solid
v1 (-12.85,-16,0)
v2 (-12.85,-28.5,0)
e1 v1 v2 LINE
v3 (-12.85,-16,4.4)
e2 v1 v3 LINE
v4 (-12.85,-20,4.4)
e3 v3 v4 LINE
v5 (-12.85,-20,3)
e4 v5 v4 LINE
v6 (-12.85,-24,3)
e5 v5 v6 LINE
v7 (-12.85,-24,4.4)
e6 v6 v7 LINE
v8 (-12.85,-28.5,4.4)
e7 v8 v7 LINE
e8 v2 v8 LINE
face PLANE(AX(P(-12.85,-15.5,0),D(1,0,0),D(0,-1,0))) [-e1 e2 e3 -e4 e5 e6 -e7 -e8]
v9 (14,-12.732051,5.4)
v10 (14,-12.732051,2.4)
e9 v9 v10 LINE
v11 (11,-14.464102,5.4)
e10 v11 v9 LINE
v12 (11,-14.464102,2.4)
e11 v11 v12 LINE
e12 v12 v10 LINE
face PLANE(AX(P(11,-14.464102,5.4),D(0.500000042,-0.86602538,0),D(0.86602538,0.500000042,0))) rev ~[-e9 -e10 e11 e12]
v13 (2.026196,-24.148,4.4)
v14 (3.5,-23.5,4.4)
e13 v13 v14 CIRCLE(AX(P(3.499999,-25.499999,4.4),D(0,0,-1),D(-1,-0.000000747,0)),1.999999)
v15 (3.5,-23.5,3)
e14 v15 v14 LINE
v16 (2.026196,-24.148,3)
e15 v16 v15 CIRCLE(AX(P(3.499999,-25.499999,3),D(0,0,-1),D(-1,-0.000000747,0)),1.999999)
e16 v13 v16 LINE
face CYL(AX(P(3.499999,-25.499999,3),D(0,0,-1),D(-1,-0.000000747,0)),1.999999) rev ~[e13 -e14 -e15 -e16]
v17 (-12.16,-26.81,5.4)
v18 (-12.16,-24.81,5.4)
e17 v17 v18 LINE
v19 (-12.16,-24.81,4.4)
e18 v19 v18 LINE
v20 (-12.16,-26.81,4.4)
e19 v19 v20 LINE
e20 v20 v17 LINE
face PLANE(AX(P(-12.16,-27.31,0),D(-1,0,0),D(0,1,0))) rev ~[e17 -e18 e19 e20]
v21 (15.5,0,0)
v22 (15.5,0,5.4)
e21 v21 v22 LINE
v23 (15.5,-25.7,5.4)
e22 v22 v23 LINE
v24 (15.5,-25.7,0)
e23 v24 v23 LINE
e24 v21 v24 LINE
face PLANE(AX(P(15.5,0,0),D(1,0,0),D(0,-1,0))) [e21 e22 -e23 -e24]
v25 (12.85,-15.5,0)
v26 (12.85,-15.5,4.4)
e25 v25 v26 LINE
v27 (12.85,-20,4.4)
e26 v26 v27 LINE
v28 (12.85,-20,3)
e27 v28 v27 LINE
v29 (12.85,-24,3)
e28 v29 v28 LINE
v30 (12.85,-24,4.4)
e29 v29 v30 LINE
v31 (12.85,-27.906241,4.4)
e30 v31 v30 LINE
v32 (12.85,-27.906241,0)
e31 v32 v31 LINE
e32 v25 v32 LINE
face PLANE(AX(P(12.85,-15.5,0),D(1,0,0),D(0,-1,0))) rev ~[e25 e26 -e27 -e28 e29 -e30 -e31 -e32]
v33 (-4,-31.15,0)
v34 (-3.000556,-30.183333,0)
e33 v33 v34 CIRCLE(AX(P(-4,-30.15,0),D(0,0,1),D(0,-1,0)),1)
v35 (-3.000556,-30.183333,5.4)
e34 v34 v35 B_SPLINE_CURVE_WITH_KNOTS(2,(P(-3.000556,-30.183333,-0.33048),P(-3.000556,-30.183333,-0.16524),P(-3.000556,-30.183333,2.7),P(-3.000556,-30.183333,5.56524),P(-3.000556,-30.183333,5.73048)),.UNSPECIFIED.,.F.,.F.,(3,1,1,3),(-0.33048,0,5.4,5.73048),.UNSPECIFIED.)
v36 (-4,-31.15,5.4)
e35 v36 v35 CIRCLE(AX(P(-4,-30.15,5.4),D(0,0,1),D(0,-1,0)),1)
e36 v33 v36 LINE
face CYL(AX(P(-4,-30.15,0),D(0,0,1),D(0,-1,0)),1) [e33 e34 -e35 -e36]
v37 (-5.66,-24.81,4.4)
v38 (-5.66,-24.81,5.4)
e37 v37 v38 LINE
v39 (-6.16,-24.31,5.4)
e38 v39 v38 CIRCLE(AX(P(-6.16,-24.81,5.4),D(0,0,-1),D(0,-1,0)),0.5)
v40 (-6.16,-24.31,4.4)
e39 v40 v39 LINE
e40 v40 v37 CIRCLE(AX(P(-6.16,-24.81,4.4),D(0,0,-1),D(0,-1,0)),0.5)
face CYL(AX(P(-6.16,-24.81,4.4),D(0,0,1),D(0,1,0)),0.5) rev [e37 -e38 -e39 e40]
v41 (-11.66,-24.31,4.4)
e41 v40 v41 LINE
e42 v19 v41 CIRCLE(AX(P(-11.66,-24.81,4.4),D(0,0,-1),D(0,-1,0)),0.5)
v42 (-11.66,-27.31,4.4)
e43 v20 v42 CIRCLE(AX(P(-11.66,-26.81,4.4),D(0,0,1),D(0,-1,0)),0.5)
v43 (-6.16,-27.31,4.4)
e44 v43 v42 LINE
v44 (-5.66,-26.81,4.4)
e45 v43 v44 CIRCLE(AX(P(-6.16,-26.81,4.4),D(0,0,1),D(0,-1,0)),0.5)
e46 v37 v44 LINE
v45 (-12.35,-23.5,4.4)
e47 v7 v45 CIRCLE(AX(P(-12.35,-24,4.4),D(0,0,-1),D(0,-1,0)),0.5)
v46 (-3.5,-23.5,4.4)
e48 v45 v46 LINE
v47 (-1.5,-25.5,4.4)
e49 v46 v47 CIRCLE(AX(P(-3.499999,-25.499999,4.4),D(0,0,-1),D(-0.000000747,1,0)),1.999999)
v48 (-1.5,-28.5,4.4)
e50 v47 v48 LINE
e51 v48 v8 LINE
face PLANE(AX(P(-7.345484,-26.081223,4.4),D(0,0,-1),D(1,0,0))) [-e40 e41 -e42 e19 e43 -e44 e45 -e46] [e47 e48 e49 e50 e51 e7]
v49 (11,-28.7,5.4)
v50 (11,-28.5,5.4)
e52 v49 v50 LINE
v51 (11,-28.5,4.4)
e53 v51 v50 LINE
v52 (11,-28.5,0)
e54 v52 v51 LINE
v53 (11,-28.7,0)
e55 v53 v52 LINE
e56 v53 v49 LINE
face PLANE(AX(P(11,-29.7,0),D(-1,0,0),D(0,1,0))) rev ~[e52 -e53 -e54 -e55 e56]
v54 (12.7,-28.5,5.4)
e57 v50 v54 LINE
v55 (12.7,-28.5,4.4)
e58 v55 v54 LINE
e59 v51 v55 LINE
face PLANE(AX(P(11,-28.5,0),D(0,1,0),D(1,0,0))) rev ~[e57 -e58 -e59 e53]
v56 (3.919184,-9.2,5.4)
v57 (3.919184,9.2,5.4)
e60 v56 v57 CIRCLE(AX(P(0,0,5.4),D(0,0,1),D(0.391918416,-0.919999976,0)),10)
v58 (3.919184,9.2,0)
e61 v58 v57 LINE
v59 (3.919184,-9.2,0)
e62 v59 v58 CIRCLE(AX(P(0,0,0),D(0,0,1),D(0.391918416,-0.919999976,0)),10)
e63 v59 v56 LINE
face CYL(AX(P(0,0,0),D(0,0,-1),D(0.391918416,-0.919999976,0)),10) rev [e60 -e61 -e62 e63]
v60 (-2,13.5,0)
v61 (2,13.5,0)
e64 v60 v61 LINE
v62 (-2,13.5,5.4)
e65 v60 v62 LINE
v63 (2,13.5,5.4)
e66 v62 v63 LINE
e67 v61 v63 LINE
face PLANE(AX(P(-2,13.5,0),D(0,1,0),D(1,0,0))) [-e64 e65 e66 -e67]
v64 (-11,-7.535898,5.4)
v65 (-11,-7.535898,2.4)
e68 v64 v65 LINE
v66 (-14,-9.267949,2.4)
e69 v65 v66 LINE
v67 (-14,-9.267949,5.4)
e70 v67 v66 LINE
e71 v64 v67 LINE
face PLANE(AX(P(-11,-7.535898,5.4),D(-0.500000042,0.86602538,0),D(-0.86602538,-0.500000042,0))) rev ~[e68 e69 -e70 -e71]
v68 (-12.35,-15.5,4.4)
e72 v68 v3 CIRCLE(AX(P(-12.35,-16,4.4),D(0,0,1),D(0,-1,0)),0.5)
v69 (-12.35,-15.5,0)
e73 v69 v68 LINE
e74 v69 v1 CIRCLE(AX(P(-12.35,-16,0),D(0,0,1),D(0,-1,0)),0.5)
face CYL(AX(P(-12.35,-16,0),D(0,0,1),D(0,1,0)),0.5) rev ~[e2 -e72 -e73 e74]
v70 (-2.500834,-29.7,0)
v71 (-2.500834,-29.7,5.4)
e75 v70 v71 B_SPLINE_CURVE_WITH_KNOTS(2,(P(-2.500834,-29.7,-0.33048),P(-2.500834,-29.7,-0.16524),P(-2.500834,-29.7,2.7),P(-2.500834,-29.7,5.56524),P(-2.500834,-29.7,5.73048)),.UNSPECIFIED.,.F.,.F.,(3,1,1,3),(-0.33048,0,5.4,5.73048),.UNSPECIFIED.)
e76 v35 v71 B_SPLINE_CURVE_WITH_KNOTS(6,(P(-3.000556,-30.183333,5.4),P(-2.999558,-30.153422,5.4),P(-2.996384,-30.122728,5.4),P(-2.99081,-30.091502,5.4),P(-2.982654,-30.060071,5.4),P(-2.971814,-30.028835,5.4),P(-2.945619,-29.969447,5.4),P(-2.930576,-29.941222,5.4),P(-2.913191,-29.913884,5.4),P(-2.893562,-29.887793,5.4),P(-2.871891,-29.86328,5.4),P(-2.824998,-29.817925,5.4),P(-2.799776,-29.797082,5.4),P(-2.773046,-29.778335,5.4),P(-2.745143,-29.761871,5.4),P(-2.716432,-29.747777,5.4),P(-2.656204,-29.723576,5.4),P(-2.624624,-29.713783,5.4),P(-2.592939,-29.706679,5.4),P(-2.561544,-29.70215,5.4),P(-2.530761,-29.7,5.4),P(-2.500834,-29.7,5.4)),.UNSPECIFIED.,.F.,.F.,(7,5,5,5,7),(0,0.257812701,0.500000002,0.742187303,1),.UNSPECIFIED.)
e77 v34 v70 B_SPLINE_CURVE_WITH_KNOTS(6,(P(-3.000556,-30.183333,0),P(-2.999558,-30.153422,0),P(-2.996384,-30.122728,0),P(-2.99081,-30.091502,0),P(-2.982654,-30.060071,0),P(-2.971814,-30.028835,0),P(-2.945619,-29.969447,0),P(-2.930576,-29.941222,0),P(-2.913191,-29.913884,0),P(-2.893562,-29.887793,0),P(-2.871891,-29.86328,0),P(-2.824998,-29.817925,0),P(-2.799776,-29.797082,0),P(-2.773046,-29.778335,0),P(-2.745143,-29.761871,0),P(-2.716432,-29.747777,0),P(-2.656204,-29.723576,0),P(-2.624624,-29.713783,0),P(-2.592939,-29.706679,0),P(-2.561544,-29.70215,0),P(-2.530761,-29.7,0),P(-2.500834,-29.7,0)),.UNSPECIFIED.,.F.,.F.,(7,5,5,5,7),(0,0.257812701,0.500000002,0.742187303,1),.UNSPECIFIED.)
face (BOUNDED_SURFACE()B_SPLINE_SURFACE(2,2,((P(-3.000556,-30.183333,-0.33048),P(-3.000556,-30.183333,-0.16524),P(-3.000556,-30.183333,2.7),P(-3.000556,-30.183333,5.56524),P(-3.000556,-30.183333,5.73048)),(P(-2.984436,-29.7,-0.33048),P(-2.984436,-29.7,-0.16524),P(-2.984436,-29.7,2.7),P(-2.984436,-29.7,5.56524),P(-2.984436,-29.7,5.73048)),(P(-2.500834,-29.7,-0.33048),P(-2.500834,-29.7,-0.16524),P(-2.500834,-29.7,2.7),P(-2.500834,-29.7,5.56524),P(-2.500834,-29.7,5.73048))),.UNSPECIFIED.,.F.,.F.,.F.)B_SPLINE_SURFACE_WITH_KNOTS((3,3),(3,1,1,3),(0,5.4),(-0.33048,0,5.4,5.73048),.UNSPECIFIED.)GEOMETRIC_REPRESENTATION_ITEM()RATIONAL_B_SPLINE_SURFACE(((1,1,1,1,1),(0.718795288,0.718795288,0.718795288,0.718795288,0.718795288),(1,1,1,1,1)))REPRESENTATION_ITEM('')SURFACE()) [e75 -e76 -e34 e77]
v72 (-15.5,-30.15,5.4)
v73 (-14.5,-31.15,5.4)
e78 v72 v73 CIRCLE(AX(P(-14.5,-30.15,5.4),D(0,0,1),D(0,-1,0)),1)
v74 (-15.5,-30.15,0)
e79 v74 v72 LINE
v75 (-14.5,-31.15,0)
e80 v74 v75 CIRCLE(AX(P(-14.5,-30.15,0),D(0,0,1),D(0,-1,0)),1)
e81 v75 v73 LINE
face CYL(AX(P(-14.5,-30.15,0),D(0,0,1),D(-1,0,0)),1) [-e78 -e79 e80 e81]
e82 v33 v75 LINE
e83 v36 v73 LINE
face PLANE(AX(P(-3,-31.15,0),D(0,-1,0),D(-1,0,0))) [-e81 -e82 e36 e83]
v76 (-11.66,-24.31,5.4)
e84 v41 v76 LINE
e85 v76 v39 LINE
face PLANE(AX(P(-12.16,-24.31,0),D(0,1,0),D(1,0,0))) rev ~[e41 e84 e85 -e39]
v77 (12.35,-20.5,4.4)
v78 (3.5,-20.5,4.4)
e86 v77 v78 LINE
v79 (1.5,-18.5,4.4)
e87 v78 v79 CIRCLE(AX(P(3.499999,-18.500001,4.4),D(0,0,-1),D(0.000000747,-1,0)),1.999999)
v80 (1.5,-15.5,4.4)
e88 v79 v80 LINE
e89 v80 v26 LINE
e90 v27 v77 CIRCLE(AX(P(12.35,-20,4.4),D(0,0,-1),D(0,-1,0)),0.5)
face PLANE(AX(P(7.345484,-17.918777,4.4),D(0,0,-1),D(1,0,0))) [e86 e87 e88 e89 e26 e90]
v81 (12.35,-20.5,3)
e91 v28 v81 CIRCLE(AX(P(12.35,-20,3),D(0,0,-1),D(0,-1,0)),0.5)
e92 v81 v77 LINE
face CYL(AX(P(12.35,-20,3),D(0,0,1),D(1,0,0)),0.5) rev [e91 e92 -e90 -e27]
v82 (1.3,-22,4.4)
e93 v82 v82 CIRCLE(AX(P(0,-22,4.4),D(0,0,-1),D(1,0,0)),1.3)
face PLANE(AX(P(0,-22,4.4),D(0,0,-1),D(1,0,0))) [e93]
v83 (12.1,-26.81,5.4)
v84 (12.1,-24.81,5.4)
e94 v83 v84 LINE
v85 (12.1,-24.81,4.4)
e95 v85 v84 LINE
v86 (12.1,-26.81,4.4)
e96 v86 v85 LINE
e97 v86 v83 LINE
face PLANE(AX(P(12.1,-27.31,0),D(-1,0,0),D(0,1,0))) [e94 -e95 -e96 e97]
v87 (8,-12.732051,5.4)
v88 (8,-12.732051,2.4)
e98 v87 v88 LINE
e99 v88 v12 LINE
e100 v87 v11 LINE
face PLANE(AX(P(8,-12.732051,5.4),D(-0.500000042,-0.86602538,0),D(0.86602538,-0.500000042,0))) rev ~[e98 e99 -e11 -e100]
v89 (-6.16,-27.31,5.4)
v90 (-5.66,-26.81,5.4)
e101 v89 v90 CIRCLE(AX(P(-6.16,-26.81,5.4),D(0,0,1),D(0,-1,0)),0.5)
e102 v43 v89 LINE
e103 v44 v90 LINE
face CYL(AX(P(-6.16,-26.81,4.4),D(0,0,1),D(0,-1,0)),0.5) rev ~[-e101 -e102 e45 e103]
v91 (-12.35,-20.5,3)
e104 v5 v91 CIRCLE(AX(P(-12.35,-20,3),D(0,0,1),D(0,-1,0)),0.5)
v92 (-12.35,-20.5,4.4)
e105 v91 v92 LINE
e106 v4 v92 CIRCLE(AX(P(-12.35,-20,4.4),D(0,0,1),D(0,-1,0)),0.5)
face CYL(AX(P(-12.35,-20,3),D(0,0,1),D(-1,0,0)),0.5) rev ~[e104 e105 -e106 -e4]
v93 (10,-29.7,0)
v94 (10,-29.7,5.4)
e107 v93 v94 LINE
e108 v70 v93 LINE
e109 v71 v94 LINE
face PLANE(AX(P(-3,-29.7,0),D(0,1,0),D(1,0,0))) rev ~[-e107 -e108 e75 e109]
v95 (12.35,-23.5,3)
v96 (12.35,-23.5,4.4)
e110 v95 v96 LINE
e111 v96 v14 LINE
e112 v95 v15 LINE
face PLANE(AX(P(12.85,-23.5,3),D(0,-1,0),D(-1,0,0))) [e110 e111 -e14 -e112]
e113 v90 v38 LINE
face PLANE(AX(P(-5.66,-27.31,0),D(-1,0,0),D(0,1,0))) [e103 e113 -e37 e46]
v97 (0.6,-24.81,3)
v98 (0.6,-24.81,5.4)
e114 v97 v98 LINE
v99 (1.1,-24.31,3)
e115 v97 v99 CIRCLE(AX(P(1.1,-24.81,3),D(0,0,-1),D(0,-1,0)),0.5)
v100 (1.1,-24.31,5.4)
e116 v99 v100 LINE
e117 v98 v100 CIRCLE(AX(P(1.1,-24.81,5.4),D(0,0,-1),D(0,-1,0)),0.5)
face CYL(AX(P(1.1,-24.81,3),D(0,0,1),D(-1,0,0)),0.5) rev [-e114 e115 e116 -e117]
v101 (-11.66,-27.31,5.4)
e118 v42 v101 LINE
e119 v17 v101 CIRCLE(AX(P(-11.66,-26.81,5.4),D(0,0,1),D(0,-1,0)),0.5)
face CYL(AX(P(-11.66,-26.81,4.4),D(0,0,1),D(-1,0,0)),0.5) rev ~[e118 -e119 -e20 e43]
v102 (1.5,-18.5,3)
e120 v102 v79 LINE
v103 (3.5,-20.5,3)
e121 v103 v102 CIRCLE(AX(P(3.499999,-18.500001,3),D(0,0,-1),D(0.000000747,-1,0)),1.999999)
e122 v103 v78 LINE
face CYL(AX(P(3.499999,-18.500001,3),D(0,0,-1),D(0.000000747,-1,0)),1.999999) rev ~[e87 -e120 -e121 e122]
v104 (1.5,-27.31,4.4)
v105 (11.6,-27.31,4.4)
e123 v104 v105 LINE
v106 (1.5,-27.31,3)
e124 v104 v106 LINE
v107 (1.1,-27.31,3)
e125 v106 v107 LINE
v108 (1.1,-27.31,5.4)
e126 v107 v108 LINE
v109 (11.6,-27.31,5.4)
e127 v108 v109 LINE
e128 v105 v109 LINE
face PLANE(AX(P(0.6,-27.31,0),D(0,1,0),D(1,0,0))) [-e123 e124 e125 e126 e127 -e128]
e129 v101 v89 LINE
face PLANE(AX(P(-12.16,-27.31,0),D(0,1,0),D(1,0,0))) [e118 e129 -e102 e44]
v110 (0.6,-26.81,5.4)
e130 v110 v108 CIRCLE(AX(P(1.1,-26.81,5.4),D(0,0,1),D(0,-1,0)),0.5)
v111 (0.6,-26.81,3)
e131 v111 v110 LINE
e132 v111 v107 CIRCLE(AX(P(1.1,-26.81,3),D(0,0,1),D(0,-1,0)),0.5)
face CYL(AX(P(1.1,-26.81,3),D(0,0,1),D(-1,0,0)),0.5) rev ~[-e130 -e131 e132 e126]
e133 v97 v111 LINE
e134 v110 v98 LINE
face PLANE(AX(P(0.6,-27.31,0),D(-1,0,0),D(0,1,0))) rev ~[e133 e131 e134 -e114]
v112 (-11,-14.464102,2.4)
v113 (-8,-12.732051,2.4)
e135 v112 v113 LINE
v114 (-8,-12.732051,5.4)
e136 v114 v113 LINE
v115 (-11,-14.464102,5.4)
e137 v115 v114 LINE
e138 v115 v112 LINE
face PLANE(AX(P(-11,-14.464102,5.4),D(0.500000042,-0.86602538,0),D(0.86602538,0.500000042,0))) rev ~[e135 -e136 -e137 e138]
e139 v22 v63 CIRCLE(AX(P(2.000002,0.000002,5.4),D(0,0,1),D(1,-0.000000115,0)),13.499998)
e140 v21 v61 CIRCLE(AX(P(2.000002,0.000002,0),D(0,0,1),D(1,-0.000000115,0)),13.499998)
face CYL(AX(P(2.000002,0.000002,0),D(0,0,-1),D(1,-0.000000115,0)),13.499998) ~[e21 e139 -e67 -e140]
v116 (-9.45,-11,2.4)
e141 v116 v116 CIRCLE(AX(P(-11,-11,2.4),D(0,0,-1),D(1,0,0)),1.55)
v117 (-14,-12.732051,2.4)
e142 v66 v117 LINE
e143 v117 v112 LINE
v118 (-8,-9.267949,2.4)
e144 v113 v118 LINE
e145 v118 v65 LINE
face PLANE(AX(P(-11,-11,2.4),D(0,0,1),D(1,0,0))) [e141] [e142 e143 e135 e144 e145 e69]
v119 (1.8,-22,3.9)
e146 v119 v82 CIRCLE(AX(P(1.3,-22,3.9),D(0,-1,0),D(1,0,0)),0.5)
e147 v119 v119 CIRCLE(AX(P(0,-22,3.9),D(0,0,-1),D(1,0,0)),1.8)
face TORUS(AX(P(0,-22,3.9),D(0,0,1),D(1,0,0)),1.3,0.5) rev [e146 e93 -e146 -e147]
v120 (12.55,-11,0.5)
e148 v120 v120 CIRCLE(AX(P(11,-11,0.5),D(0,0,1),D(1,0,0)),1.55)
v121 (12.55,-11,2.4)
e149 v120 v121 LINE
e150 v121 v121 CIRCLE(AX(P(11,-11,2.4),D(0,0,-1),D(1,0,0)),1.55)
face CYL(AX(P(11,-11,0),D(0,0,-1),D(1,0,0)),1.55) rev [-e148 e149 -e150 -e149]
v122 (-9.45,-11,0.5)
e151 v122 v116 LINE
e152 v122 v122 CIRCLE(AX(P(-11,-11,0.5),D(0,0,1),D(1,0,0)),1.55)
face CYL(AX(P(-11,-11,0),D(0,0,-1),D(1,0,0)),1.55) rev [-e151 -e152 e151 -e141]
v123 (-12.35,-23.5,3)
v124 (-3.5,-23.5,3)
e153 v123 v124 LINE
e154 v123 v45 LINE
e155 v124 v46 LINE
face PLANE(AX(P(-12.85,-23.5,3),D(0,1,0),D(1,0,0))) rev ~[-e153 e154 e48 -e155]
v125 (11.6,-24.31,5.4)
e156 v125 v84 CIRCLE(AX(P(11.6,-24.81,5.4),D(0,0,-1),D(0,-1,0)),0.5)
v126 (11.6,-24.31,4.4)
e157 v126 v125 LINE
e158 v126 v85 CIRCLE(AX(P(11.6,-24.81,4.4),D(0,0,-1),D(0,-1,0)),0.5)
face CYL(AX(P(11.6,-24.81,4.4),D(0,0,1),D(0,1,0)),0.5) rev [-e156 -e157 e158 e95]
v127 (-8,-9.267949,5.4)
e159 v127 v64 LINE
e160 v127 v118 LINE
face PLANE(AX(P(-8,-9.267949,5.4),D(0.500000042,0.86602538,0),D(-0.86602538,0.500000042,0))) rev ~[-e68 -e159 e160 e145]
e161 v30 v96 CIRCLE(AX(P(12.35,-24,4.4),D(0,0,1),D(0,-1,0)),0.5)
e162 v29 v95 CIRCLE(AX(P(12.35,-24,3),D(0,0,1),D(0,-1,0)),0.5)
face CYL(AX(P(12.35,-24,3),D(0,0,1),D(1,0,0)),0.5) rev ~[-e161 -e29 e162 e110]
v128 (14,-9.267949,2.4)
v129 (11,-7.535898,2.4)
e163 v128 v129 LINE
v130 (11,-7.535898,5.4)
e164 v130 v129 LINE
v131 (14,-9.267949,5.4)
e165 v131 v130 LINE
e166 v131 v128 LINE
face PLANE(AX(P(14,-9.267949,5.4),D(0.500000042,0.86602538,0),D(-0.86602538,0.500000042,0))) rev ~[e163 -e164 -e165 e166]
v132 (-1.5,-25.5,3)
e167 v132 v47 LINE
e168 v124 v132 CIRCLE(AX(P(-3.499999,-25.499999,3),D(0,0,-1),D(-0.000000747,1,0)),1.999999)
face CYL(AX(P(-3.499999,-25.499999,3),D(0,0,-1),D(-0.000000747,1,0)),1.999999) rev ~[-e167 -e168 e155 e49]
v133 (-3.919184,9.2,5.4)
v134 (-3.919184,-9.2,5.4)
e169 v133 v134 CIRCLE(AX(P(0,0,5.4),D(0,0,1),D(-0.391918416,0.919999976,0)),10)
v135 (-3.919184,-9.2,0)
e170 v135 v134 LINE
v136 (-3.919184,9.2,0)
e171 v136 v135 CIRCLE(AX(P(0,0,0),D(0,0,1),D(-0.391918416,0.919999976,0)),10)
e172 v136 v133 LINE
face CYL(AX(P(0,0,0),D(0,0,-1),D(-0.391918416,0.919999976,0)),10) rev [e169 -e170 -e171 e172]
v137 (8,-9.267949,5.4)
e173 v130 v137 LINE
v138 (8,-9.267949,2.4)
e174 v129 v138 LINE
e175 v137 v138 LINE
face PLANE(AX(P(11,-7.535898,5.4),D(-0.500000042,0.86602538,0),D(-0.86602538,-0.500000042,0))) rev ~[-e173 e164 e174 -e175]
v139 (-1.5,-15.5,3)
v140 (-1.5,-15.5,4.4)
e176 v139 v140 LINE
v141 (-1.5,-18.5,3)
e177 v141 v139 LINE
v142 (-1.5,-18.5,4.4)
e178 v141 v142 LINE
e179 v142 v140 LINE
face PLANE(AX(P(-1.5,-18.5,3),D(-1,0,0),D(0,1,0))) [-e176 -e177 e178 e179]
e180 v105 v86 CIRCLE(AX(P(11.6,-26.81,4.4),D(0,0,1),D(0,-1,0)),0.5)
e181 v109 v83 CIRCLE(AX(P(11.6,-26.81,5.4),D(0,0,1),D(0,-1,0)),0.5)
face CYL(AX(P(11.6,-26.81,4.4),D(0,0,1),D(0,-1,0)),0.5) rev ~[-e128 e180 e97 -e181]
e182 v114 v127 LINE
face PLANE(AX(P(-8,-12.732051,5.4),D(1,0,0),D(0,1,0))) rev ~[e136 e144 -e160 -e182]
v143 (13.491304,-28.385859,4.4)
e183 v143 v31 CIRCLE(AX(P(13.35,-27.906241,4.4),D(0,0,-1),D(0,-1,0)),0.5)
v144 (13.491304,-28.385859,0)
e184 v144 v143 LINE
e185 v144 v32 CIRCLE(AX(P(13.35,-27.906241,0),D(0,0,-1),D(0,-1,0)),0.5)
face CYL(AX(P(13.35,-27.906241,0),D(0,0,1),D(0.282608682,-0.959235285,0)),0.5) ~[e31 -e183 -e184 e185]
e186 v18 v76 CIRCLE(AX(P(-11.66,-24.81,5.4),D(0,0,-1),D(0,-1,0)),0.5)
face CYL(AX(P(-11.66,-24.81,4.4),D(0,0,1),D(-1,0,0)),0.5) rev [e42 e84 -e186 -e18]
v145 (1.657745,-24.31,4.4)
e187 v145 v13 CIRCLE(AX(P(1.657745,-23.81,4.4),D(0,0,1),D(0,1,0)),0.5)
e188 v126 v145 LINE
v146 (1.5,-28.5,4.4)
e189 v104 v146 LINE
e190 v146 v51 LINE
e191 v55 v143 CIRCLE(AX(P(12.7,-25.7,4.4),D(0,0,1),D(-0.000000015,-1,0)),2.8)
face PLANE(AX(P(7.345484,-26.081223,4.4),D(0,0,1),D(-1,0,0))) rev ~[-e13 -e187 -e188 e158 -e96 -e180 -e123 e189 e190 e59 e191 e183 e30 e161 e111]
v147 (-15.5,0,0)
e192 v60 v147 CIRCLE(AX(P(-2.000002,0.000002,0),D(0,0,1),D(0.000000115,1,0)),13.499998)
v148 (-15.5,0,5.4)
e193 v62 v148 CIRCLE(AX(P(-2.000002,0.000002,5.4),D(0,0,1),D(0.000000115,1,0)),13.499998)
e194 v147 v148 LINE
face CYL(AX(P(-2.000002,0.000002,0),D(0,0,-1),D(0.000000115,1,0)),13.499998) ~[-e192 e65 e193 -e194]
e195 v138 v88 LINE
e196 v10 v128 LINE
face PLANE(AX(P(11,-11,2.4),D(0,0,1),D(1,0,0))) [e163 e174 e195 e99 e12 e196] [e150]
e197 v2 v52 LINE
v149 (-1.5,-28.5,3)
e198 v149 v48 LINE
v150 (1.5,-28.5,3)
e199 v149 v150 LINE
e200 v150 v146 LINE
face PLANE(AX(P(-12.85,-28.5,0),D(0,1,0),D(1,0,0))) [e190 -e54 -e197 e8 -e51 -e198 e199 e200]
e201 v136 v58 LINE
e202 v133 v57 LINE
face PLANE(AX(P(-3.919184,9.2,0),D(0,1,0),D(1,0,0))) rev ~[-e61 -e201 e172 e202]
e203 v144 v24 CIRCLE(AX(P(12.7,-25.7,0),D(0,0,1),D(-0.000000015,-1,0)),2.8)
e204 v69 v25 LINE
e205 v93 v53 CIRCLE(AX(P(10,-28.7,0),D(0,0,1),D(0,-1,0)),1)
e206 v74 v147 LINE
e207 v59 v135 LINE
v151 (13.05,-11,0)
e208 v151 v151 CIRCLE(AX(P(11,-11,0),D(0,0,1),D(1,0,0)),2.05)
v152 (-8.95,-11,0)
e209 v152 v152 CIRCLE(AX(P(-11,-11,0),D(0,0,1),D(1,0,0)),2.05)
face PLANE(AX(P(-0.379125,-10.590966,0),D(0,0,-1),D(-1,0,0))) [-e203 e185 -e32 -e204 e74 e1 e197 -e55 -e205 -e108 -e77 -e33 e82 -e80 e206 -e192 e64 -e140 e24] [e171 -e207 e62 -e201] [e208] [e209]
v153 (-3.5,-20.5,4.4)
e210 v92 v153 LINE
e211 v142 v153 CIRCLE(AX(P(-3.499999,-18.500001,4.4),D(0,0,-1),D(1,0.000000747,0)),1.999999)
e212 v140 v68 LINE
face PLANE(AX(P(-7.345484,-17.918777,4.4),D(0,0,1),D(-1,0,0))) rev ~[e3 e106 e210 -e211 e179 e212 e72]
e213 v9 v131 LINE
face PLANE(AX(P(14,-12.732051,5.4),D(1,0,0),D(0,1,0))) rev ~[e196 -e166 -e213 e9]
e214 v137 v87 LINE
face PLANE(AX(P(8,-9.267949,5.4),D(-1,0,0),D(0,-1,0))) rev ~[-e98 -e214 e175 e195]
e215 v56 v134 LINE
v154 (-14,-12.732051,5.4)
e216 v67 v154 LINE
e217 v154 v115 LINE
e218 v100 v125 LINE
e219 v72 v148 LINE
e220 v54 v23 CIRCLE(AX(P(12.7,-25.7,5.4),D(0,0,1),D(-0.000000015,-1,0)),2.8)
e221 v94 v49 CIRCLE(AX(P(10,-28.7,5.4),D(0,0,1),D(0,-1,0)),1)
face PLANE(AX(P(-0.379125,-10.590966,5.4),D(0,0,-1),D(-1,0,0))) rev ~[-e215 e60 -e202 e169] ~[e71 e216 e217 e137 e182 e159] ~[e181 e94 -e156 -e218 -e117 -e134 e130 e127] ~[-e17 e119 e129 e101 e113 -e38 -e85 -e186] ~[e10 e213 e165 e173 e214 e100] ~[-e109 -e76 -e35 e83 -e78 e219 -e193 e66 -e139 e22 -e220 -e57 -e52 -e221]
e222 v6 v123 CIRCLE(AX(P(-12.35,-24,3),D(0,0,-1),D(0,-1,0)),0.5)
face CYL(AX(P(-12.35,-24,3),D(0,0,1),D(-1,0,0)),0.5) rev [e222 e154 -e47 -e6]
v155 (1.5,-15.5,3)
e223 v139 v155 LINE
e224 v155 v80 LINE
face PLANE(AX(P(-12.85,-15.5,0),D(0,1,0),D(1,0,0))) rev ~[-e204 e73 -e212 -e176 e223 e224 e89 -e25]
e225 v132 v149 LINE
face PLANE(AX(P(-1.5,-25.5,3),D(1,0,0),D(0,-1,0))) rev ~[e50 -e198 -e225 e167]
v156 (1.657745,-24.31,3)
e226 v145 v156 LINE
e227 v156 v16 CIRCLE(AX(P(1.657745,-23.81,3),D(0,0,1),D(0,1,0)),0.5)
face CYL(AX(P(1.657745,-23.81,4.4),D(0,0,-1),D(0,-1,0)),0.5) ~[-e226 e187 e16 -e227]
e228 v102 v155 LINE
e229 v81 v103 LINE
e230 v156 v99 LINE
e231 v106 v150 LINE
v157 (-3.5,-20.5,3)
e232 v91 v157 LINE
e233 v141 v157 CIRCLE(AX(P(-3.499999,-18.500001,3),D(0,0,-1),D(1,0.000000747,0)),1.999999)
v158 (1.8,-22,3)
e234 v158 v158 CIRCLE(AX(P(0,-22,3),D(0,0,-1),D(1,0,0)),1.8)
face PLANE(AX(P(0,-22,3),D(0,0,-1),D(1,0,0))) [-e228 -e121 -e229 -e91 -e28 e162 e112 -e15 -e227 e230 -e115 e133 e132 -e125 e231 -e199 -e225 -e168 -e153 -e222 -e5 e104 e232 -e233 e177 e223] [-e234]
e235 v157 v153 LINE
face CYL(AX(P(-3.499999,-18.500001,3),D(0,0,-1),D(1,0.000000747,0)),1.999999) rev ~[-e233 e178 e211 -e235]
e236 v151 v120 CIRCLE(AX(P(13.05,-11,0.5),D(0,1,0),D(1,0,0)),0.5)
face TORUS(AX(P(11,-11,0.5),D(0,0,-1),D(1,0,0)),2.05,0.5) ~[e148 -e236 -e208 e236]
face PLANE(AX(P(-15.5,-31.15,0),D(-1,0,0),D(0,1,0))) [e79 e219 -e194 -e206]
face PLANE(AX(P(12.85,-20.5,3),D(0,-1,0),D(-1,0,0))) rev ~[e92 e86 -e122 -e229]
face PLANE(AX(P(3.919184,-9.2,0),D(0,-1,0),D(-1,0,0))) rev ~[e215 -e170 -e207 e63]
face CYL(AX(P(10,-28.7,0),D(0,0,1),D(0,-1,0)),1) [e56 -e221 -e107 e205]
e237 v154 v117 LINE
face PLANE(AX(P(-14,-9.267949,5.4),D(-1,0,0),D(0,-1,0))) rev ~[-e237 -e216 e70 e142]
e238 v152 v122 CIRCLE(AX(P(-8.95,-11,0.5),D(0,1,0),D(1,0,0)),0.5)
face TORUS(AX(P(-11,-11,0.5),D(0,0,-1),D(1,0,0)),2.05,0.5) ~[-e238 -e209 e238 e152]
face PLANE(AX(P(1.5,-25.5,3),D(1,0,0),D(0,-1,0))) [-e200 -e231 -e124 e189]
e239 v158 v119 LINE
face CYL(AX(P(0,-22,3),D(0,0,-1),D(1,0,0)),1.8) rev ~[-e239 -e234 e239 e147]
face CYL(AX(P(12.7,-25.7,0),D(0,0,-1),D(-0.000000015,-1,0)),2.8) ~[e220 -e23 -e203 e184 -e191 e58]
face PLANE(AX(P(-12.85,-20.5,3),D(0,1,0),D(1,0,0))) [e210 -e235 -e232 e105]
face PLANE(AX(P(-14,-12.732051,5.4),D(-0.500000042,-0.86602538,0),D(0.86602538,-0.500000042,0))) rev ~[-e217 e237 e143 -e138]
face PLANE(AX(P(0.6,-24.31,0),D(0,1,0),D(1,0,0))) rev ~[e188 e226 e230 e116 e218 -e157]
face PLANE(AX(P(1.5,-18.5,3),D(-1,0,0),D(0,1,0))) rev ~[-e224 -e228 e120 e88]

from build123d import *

# Parameters (mm, degrees)
SKETCH_R        = 1.55
SKETCH_W        = 6.5
SKETCH_H        = 3
SKETCH_W_2      = 11.5
PAD_DEPTH       = 5.4
SKETCH005_W     = 25.7
SKETCH005_H     = 13
POCKET_DEPTH    = 3
SKETCH006_R     = 1.8
POCKET001_DEPTH = 1.4
POCKET002_DEPTH = 3
FILLET_R        = 1
FILLET001_R     = 0.5


with BuildPart() as part:
    # Sketch → Pad (new body)
    with BuildSketch(Plane.XY):
        with BuildLine():
            Line((-2, 13.5), (2, 13.5))
            ThreePointArc((15.5, 0), (11.545942, 9.545942), (2, 13.5))
            Line((15.5, 0), (15.5, -25.7))
            ThreePointArc((12.7, -28.5), (14.679899, -27.679899), (15.5, -25.7))
            Line((11, -28.5), (12.7, -28.5))
            Line((11, -29.7), (11, -28.5))
            Line((-3, -29.7), (11, -29.7))
            Line((-3, -31.15), (-3, -29.7))
            Line((-3, -31.15), (-15.5, -31.15))
            Line((-15.5, -31.15), (-15.5, 0))
            ThreePointArc((-2, 13.5), (-11.545942, 9.545942), (-15.5, 0))
        make_face()
        with Locations((-11, -11)):
            Circle(SKETCH_R, mode=Mode.SUBTRACT)
        with Locations((11, -11)):
            Circle(SKETCH_R, mode=Mode.SUBTRACT)
        with BuildLine():
            ThreePointArc((-3.919184, 9.2), (-10, 0), (-3.919184, -9.2))
            Line((3.919184, -9.2), (-3.919184, -9.2))
            ThreePointArc((3.919184, -9.2), (10, 0), (3.919184, 9.2))
            Line((-3.919184, 9.2), (3.919184, 9.2))
        make_face(mode=Mode.SUBTRACT)
        with Locations((-8.91, -25.81)):
            Rectangle(SKETCH_W, SKETCH_H, mode=Mode.SUBTRACT)
        with Locations((6.35, -25.81)):
            Rectangle(SKETCH_W_2, SKETCH_H, mode=Mode.SUBTRACT)
    extrude(amount=PAD_DEPTH)

    # Sketch005 (on Face26 of Pad) → Pocket (cut)
    with BuildSketch(Plane(origin=(0, 0, 0), x_dir=(1, 0, 0), z_dir=(0, 0, -1))):
        with Locations((0, 22)):
            Rectangle(SKETCH005_W, SKETCH005_H)
    extrude(amount=-POCKET_DEPTH, mode=Mode.SUBTRACT)

    # Sketch006 (on Face32 of Pocket) → Pocket001 (cut)
    with BuildSketch(Plane(origin=(0, 0, 3), x_dir=(1, 0, 0), z_dir=(0, 0, -1))):
        with Locations((0, 22)):
            Circle(SKETCH006_R)
        with BuildLine():
            Line((-12.85, 20.5), (-3.5, 20.5))
            ThreePointArc((-1.5, 18.5), (-2.085786, 19.914214), (-3.5, 20.5))
            Line((-1.5, 18.5), (-1.5, 15.5))
            Line((-1.5, 15.5), (-12.85, 15.5))
            Line((-12.85, 15.5), (-12.85, 20.5))
        make_face()
        with BuildLine():
            Line((1.5, 15.5), (12.85, 15.5))
            Line((12.85, 15.5), (12.85, 20.5))
            Line((12.85, 20.5), (3.5, 20.5))
            ThreePointArc((3.5, 20.5), (2.085786, 19.914214), (1.5, 18.5))
            Line((1.5, 18.5), (1.5, 15.5))
        make_face()
        with BuildLine():
            Line((-12.85, 23.5), (-3.5, 23.5))
            ThreePointArc((-3.5, 23.5), (-2.085786, 24.085786), (-1.5, 25.5))
            Line((-1.5, 25.5), (-1.5, 28.5))
            Line((-1.5, 28.5), (-12.85, 28.5))
            Line((-12.85, 28.5), (-12.85, 23.5))
        make_face()
        with BuildLine():
            Line((1.5, 28.5), (12.85, 28.5))
            Line((12.85, 28.5), (12.85, 23.5))
            Line((12.85, 23.5), (3.5, 23.5))
            ThreePointArc((1.5, 25.5), (2.085786, 24.085786), (3.5, 23.5))
            Line((1.5, 25.5), (1.5, 28.5))
        make_face()
    extrude(amount=-POCKET001_DEPTH, mode=Mode.SUBTRACT)

    # Sketch001 (on Face5 of Pocket001) → Pocket002 (cut)
    with BuildSketch(Plane.XY.offset(5.4)):
        Polygon((-8, -12.732051), (-8, -9.267949), (-11, -7.535898), (-14, -9.267949), (-14, -12.732051), (-11, -14.464102), align=None)
        Polygon((14, -12.732051), (14, -9.267949), (11, -7.535898), (8, -9.267949), (8, -12.732051), (11, -14.464102), align=None)
    extrude(amount=-POCKET002_DEPTH, mode=Mode.SUBTRACT)

    # Fillet
    fillet_edges = [part.edges().sort_by_distance(p)[0] for p in [
        (-15.5, -31.15, 2.7),
        (-3, -31.15, 2.7),
        (11, -29.7, 2.7),
    ]]
    fillet(fillet_edges, radius=FILLET_R)

    # Fillet001
    fillet001_edges = [part.edges().sort_by_distance(p)[0] for p in [
        (12.85, -23.5, 3.7),
        (12.85, -20.5, 3.7),
        (-12.85, -20.5, 3.7),
        (-12.85, -23.5, 3.7),
        (-1.8, -22, 4.4),
        (0.6, -27.31, 4.2),
        (0.6, -24.31, 4.2),
        (1.892549, -24.31, 3.7),
        (-3, -29.7, 2.7),
        (12.1, -27.31, 4.9),
        (12.1, -24.31, 4.9),
        (-5.66, -27.31, 4.9),
        (-5.66, -24.31, 4.9),
        (-12.16, -24.31, 4.9),
        (-12.16, -27.31, 4.9),
        (-12.85, -15.5, 1.5),
        (12.85, -28.495979, 1.5),
        (9.45, -11, 0),
        (-12.55, -11, 0),
    ]]
    fillet(fillet001_edges, radius=FILLET001_R)


solid = part.part
